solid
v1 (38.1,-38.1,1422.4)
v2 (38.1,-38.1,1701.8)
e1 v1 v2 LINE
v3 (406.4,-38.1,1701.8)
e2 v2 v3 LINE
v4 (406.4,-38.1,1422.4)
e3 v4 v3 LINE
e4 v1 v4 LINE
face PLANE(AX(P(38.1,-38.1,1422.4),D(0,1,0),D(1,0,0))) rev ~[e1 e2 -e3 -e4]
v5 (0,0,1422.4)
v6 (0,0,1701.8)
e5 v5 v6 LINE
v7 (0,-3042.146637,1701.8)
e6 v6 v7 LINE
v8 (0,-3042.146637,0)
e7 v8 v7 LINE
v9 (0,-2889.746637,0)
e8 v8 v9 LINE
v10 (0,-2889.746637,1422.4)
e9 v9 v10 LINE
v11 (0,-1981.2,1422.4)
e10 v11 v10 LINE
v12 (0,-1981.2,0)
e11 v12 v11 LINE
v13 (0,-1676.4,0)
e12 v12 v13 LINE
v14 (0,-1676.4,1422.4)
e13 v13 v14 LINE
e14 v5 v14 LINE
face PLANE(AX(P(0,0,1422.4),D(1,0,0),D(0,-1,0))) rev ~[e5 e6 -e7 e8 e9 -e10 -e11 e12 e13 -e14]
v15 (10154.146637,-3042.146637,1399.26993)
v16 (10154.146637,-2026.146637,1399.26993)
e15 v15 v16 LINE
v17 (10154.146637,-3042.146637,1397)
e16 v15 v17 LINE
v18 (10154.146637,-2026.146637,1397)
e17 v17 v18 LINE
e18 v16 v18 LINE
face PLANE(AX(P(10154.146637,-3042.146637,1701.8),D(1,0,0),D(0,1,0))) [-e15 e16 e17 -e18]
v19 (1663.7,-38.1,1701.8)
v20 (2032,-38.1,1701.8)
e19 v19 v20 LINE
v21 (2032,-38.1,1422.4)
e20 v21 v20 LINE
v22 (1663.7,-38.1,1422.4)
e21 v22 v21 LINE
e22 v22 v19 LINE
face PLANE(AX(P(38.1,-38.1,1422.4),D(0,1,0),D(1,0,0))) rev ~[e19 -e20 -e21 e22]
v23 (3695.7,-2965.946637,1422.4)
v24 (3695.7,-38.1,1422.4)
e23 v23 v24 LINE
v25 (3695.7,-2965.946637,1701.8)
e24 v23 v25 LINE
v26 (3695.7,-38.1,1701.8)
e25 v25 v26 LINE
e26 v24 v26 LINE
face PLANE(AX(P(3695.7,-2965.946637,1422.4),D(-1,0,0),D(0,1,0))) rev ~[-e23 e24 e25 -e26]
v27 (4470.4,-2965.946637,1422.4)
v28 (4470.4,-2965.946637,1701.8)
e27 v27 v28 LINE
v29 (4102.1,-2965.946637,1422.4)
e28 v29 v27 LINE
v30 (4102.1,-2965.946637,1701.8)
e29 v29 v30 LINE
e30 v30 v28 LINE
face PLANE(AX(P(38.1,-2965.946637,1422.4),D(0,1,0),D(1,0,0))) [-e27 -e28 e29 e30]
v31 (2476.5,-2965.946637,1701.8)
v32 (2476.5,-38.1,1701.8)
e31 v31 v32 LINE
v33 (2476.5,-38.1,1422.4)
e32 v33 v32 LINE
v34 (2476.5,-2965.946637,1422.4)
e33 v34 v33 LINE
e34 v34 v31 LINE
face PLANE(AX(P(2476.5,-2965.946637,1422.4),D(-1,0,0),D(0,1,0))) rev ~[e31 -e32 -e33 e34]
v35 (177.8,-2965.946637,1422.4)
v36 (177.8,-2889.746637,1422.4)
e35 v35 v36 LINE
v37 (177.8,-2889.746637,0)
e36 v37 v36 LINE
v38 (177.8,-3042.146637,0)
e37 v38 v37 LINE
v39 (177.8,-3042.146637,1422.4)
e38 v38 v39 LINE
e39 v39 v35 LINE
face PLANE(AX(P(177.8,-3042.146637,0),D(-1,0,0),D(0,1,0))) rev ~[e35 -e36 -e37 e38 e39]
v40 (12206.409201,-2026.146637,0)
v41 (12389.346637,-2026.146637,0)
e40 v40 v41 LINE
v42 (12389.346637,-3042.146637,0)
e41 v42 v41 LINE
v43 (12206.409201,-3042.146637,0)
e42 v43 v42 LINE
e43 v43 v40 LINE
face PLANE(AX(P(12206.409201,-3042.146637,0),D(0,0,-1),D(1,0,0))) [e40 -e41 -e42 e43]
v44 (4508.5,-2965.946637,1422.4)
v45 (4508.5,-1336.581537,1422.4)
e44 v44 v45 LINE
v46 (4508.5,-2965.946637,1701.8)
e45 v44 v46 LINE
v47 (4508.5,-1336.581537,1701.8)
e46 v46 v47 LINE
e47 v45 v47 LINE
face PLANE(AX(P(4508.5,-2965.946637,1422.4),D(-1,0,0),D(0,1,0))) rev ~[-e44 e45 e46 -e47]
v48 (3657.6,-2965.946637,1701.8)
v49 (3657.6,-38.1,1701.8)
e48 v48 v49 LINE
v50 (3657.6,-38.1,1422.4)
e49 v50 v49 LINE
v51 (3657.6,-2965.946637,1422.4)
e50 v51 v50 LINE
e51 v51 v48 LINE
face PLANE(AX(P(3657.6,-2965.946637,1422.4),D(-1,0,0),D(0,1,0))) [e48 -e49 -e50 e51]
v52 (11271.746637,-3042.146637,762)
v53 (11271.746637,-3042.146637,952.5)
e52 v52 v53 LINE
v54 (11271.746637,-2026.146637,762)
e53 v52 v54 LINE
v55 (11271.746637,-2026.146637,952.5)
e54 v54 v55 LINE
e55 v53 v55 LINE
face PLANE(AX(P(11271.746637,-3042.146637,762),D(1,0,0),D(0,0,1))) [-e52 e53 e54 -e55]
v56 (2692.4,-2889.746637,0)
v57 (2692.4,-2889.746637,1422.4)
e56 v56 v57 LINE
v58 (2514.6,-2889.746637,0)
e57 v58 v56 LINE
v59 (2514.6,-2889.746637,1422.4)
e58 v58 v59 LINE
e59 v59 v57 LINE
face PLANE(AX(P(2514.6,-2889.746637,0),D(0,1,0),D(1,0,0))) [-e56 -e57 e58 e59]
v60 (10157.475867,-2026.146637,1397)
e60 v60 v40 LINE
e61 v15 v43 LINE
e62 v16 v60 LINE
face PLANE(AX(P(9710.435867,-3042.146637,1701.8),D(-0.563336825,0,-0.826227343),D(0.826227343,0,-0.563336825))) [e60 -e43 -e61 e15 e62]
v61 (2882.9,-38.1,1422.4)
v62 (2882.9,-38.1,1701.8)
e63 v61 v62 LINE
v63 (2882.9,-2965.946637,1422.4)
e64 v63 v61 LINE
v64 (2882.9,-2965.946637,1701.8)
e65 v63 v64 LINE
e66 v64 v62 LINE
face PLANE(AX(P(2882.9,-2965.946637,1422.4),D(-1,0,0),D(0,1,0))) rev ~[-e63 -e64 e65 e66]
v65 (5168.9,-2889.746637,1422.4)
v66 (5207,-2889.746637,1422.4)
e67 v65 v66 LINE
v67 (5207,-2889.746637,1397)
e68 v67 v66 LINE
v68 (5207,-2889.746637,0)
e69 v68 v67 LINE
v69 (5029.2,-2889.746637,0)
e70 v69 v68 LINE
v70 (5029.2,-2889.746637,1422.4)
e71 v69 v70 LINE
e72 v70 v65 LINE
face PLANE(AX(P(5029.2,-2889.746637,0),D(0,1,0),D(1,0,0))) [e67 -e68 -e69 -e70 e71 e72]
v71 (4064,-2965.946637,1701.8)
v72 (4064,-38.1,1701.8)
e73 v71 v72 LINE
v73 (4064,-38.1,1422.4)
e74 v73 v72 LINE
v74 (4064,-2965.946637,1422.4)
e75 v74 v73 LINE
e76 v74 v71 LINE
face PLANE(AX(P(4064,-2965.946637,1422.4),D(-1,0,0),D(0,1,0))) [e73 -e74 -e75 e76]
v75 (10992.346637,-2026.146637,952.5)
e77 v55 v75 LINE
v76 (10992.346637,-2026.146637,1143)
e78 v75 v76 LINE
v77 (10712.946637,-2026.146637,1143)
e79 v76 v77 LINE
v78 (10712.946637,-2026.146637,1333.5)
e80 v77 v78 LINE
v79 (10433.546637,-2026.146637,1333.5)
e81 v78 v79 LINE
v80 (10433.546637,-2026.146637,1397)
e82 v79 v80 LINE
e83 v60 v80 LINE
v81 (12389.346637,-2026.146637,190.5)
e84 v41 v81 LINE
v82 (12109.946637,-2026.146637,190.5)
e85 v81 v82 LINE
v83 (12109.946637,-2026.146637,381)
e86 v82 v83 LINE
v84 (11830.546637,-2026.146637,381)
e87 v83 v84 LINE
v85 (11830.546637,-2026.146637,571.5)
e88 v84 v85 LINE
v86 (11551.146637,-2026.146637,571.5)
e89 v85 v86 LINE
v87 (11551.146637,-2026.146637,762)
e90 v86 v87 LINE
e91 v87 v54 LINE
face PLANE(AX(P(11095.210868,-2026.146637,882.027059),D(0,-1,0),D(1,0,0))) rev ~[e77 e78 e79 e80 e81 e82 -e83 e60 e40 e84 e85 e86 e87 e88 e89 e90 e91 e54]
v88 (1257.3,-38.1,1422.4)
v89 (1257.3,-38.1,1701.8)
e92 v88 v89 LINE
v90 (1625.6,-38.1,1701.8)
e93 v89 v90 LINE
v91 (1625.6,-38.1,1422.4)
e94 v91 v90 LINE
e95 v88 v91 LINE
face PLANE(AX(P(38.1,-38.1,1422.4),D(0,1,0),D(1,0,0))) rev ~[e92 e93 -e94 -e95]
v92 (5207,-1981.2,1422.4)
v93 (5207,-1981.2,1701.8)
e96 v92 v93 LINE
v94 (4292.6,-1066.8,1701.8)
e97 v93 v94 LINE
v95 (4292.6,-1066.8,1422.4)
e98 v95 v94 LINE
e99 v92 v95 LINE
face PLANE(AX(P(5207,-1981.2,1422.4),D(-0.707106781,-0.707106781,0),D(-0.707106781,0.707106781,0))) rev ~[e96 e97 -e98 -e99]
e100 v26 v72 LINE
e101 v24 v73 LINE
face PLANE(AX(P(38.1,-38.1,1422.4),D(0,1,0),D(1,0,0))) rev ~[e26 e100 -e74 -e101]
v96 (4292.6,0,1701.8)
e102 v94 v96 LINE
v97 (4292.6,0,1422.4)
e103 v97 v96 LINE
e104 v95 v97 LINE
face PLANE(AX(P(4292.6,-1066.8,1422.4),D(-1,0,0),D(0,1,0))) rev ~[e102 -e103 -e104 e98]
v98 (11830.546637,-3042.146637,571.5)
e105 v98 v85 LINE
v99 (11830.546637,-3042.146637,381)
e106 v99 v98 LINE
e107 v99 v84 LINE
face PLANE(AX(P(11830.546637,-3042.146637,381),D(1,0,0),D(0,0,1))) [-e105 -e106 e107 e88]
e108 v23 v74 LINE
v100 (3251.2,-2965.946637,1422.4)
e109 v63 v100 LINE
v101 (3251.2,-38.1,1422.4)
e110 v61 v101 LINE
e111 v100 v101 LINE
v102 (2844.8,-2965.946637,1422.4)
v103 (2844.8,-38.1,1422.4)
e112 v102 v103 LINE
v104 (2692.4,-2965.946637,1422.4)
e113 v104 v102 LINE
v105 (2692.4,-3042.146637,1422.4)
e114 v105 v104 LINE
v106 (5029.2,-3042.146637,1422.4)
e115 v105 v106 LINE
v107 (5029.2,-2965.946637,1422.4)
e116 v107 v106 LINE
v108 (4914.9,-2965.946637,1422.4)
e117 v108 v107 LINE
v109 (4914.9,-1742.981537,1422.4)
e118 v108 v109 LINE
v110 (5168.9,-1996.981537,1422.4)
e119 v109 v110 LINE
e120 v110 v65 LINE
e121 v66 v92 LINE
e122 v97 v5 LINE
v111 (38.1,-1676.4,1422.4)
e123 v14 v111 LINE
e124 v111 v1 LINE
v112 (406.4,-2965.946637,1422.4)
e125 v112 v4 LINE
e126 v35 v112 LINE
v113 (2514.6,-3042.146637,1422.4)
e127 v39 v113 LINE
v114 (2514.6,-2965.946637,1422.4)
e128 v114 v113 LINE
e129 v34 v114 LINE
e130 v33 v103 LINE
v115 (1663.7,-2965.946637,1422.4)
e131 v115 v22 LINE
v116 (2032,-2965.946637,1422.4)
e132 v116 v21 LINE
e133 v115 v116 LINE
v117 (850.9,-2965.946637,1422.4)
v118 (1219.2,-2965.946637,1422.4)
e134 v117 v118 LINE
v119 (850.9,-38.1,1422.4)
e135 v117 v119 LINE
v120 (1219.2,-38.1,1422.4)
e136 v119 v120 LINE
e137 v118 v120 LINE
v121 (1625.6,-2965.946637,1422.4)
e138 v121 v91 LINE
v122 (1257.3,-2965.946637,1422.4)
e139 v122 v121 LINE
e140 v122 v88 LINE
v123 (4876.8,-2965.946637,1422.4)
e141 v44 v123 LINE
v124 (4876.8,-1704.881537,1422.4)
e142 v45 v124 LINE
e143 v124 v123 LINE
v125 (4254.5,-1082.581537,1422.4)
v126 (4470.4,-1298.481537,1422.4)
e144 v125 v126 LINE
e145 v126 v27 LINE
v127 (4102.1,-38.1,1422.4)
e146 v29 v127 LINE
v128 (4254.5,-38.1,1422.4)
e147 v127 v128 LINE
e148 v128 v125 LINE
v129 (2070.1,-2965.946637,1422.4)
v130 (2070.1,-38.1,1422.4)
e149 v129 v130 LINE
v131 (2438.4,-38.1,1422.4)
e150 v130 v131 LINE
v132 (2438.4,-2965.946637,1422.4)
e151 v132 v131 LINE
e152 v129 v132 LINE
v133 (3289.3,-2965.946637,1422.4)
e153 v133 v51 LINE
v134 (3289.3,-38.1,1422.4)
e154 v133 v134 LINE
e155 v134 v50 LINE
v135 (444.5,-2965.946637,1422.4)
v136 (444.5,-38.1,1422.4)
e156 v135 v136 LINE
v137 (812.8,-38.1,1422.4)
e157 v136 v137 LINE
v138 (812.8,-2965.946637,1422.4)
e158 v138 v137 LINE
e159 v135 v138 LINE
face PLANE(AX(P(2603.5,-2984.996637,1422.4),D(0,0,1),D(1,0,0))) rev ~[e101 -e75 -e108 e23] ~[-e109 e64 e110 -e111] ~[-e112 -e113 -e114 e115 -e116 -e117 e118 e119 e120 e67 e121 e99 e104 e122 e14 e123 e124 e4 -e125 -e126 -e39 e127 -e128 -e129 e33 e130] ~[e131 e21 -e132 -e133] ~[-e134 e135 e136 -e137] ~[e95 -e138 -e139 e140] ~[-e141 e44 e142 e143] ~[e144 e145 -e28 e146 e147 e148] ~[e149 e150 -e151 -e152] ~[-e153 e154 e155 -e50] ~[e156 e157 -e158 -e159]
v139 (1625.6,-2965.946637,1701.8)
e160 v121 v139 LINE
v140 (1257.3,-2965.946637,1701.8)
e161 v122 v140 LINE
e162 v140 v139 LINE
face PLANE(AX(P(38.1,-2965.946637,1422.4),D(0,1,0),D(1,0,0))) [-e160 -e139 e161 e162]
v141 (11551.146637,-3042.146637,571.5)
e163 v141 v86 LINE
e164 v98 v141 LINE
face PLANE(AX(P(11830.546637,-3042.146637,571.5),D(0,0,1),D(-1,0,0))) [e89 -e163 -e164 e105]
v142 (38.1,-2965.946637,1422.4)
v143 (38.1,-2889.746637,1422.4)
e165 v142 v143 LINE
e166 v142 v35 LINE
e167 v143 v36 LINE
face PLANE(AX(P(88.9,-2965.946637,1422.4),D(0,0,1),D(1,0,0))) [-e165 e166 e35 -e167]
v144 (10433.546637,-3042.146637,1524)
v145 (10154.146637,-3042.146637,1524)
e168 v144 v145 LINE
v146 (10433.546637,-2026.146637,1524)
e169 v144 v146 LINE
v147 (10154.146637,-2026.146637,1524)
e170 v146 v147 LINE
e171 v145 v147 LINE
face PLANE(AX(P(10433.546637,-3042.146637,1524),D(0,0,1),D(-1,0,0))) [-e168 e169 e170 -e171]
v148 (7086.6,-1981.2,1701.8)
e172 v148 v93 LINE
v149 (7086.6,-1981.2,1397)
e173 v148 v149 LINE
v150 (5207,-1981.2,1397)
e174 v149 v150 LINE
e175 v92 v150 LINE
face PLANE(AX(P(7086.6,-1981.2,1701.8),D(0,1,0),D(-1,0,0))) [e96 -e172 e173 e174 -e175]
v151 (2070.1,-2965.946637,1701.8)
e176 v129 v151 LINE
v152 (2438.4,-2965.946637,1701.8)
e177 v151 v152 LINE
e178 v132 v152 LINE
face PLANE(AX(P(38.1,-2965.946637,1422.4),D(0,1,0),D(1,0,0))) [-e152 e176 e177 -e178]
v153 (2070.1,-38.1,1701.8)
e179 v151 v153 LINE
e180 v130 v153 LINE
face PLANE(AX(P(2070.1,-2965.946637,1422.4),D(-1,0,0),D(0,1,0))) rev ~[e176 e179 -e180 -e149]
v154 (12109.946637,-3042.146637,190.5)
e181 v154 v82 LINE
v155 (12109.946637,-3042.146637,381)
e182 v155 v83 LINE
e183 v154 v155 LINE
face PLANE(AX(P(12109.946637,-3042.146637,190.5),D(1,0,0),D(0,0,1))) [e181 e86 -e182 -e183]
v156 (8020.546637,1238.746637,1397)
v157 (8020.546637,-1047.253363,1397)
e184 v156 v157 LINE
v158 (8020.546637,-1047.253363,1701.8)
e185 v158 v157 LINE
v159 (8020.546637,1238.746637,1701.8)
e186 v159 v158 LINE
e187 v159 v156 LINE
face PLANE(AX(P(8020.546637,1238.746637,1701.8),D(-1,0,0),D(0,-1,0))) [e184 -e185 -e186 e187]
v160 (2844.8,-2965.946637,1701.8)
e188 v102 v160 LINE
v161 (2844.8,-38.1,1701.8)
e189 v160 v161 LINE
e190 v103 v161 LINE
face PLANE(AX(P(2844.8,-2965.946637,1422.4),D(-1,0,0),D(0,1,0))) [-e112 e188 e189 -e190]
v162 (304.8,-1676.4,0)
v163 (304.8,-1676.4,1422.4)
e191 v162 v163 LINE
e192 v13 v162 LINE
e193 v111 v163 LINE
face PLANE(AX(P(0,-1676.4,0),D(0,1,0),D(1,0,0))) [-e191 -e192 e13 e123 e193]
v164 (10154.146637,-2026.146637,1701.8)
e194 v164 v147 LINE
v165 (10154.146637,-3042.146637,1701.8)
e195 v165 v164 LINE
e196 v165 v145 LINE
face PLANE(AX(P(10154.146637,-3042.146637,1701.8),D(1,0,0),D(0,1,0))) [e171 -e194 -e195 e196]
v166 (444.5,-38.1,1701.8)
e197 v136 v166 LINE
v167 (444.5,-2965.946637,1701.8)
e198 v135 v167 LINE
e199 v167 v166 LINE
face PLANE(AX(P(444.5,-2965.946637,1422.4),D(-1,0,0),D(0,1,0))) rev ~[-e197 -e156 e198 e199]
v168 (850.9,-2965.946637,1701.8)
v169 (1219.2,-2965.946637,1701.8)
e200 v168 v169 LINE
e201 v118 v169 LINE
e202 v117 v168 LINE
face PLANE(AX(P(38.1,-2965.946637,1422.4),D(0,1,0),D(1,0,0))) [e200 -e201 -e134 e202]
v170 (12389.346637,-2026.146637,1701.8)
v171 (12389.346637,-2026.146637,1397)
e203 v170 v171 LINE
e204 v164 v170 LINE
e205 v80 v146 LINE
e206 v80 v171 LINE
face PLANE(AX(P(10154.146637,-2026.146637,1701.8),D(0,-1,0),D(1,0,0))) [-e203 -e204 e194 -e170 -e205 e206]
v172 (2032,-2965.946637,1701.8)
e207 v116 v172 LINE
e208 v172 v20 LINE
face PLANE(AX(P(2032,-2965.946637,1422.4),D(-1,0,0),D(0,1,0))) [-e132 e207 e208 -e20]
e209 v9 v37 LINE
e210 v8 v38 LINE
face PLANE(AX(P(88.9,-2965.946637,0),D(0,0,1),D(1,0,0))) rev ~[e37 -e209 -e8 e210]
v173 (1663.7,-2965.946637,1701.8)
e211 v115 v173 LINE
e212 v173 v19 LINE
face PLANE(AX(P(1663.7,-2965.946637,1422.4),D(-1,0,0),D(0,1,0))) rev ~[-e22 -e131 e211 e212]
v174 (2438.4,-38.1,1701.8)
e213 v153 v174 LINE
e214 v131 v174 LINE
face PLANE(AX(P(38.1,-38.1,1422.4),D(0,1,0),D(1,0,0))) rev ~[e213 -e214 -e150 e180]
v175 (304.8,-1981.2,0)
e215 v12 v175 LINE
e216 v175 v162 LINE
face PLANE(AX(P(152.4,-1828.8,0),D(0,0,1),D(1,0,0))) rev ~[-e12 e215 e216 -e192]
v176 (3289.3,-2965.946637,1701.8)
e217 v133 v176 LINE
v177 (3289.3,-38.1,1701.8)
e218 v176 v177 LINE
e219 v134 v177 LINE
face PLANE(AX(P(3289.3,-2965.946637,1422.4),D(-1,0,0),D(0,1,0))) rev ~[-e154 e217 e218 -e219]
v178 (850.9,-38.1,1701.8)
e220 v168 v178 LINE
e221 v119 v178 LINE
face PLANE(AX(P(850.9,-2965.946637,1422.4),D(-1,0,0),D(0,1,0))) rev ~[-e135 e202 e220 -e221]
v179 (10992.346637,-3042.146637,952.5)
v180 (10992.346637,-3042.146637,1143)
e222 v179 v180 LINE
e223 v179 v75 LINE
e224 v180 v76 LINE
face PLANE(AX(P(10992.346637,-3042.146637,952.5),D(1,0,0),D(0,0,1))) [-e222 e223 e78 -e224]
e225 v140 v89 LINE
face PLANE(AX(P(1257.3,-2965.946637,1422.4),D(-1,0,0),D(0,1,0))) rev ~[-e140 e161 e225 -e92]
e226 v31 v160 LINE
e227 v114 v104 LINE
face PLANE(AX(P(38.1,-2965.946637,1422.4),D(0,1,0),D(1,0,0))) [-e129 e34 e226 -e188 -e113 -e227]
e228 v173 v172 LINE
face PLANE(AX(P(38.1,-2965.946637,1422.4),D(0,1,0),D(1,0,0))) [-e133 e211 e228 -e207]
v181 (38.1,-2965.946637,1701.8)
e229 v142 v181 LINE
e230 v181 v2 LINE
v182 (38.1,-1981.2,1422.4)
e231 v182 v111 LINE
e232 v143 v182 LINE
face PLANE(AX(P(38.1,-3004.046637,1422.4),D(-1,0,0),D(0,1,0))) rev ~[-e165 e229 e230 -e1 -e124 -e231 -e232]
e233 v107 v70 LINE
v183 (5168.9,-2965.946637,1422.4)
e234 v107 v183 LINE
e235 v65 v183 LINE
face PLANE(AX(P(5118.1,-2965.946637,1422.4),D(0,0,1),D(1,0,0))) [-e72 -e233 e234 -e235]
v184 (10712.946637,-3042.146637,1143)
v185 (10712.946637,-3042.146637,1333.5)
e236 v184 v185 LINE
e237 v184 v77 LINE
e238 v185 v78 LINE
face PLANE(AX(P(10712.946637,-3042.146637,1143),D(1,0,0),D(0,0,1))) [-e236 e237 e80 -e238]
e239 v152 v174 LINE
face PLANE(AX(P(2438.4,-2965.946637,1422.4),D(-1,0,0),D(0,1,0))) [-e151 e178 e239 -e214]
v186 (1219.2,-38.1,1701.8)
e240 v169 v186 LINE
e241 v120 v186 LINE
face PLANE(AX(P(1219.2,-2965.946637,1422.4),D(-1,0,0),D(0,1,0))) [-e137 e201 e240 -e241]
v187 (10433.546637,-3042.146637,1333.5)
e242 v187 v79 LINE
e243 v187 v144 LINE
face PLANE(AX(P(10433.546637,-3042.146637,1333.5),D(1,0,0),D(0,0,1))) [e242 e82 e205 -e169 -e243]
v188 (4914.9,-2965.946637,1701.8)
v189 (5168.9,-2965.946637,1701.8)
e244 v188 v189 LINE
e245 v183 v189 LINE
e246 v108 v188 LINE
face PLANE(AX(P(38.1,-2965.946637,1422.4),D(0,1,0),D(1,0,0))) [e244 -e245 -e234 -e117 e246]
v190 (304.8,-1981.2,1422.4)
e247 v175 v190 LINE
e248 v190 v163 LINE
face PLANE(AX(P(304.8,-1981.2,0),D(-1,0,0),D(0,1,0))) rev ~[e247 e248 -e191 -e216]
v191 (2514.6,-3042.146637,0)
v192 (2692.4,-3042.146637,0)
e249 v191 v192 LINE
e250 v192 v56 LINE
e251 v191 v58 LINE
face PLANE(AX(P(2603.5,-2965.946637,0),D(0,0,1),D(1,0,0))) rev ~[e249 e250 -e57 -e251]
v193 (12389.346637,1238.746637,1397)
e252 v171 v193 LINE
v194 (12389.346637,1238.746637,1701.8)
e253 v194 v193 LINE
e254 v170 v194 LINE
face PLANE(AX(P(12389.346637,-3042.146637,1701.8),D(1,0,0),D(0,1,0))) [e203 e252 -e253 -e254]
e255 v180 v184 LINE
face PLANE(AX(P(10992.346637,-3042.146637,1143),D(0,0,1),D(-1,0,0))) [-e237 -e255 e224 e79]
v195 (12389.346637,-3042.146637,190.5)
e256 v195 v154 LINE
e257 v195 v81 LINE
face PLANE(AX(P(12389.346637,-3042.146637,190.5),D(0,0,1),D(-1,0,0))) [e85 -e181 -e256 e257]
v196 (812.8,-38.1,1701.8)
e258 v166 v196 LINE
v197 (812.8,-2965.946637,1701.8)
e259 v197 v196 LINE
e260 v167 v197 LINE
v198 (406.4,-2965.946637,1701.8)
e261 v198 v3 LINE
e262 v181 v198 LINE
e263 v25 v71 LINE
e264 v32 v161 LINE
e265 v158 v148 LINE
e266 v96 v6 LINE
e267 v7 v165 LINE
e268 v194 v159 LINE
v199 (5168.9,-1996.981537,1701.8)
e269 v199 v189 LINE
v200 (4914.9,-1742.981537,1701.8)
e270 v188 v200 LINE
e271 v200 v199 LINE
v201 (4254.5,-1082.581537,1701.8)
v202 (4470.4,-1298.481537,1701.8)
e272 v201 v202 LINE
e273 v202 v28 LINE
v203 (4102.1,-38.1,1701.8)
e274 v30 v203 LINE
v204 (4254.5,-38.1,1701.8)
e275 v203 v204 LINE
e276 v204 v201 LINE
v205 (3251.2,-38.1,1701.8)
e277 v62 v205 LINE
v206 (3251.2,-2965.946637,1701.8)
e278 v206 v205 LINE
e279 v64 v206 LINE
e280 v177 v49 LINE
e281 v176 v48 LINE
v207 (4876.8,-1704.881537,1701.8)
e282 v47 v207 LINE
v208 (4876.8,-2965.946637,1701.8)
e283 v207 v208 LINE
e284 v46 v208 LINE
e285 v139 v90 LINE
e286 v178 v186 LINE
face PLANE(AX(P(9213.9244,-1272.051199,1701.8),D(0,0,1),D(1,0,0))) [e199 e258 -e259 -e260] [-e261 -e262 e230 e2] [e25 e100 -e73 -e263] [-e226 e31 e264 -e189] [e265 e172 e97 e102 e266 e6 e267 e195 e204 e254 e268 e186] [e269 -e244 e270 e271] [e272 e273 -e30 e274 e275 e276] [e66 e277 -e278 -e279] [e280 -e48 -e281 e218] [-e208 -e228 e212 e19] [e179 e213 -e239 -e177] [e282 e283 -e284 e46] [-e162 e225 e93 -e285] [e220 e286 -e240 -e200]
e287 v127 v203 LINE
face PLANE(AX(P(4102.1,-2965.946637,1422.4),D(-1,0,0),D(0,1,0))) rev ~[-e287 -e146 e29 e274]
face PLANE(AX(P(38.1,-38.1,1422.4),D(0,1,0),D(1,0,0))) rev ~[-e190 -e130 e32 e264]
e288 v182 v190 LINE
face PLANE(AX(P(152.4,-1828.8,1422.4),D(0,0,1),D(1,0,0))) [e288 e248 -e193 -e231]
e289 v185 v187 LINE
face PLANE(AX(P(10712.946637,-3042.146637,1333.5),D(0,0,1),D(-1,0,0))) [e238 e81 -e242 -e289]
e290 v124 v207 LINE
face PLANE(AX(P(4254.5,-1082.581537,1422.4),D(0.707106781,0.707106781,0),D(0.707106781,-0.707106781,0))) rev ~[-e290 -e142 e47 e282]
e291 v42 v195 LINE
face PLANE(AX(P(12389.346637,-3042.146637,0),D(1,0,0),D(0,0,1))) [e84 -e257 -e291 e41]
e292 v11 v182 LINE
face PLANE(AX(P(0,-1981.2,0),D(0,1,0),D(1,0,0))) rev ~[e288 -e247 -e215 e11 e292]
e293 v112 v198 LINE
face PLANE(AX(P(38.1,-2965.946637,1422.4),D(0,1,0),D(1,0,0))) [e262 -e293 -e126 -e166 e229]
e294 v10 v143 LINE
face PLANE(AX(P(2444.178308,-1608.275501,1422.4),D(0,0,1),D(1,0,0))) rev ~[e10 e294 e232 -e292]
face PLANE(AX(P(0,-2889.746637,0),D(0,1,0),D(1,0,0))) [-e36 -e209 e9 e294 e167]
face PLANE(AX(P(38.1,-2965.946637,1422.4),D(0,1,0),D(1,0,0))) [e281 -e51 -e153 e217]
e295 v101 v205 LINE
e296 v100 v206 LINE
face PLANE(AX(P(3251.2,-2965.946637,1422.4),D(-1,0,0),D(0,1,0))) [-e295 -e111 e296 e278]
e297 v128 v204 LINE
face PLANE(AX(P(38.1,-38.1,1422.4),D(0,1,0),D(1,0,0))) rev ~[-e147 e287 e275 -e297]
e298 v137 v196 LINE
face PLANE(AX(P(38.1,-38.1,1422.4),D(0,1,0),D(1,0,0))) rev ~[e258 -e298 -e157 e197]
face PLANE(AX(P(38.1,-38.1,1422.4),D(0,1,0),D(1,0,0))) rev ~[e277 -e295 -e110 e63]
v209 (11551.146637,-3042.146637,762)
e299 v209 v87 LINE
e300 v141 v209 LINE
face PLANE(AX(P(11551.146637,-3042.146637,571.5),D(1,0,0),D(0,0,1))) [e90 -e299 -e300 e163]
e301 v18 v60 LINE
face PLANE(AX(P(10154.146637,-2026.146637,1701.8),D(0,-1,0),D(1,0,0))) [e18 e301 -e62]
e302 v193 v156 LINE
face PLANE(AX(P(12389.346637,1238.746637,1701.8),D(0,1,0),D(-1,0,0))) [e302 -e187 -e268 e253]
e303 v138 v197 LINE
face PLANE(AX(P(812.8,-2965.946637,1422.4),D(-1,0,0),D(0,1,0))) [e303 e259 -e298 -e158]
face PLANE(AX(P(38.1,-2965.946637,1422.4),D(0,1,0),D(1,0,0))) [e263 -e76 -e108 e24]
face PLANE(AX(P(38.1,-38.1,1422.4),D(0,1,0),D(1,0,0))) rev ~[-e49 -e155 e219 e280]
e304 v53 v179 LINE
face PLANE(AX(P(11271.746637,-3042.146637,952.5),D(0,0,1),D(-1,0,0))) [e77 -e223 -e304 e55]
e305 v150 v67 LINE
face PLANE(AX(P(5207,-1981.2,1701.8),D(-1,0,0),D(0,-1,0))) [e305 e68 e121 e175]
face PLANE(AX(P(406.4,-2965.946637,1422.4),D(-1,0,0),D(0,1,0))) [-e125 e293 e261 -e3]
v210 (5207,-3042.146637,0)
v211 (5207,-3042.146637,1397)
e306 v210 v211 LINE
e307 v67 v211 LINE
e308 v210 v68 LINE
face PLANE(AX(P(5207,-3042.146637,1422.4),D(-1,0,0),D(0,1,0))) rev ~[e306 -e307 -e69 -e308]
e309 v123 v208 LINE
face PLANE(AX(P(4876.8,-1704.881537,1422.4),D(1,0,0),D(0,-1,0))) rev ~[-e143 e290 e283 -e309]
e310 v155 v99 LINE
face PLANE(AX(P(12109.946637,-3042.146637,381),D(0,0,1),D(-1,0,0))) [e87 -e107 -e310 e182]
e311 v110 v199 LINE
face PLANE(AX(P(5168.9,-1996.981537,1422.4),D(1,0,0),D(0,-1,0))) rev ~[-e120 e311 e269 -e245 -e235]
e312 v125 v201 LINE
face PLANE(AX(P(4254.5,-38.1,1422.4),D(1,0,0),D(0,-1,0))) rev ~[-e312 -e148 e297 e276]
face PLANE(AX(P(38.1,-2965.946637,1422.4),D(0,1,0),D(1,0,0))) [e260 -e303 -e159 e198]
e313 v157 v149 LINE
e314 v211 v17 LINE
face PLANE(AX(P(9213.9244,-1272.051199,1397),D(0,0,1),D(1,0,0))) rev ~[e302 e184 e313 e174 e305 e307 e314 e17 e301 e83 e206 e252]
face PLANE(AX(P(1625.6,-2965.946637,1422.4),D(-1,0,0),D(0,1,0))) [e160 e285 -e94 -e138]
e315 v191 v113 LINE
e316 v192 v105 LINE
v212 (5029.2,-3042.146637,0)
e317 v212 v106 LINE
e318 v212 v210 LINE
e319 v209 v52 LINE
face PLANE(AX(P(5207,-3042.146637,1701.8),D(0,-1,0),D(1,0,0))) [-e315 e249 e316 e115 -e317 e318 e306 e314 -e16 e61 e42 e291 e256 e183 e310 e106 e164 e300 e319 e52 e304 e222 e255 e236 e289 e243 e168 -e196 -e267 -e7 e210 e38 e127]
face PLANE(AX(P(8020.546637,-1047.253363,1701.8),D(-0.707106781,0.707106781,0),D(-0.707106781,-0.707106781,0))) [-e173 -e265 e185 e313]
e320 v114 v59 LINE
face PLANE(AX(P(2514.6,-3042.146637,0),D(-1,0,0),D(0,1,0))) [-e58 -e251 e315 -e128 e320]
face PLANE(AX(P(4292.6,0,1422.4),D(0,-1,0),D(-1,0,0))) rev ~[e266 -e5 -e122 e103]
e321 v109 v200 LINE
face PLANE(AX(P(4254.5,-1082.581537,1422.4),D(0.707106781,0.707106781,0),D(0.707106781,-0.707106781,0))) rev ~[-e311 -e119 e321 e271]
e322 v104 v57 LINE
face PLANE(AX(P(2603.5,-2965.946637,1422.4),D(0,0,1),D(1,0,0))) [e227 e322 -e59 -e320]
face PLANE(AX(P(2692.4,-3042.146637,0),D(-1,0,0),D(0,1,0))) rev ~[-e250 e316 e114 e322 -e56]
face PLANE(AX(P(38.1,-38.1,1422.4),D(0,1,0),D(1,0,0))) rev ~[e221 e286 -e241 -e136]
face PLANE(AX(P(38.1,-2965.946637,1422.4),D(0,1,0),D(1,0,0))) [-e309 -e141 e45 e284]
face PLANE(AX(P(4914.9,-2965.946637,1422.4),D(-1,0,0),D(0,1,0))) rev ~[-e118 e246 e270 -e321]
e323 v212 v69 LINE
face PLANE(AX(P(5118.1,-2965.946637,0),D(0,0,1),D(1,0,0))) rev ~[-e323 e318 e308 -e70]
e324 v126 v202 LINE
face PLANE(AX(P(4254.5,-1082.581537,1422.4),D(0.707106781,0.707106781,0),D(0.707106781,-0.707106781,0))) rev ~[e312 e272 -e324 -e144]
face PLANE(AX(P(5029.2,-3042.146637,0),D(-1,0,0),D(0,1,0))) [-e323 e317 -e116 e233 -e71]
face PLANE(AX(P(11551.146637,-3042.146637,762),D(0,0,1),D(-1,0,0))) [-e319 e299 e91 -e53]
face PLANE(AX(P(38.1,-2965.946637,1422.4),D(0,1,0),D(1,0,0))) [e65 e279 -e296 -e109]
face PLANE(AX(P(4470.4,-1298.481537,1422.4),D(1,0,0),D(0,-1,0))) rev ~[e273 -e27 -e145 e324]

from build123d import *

# Parameters (mm, degrees)
F0_W      = 304.8
F0_H      = 304.8
F1_DEPTH  = 1422.4
F0_W_2    = 177.8
F0_H_2    = 152.4
F3_DEPTH  = 279.4
F4_W      = 5130.8
F4_H      = 38.1
F5_DEPTH  = 279.4
F6_W      = 38.1
F6_H      = 2927.8466365912
F7_DEPTH  = 279.4
F9_DEPTH  = 304.8
F10_W     = 2235.2
F10_H     = 1016
F11_DEPTH = 1701.801
F13_DEPTH = 1016


with BuildPart() as f1:
    # F0 (on Top) → F1 (new body)
    with BuildSketch(Plane.XY):
        with Locations((152.4, -1828.8)):
            Rectangle(F0_W, F0_H)
    extrude(amount=F1_DEPTH)



with BuildPart() as f1b:
    # F0 (on Top) → F1, piece 2 (new body)
    with BuildSketch(Plane.XY):
        with Locations((88.9, -2965.9466365912)):
            Rectangle(F0_W_2, F0_H_2)
    extrude(amount=F1_DEPTH)


with BuildPart() as f1c:
    # F0 (on Top) → F1, piece 3 (new body)
    with BuildSketch(Plane.XY):
        with Locations((2603.5, -2965.9466365912)):
            Rectangle(F0_W_2, F0_H_2)
    extrude(amount=F1_DEPTH)


with BuildPart() as f1d:
    # F0 (on Top) → F1, piece 4 (new body)
    with BuildSketch(Plane.XY):
        with Locations((5118.1, -2965.9466365912)):
            Rectangle(F0_W_2, F0_H_2)
    extrude(amount=F1_DEPTH)


with BuildPart() as f1_1:
    add(f1.part)

    add(f1b.part)  # F3 merges F1b

    add(f1c.part)  # F3 merges F1c

    add(f1d.part)  # F3 merges F1d
    # F2 (on face) → F3 (join)
    with BuildSketch(Plane.XY.offset(1422.4)):
        Polygon((4292.6, 0), (0, 0), (0, -3042.1466365912), (5207, -3042.1466365912), (5207, -1981.2), (4292.6, -1066.8), align=None)
        Polygon((38.1, -38.1), (4254.5, -38.1), (4254.5, -1082.5815367264), (5168.9, -1996.9815367264), (5168.9, -3004.0466365912), (38.1, -3004.0466365912), align=None, mode=Mode.SUBTRACT)
    extrude(amount=F3_DEPTH)

    # F4 (on face) → F5 (join, through all)
    with BuildSketch(Plane.XY.offset(1422.4)):
        with Locations((2603.5, -2984.9966365912)):
            Rectangle(F4_W, F4_H)
    extrude(amount=F5_DEPTH)

    # F6 (on face) → F7 (join, through all)
    with BuildSketch(Plane.XY.offset(1422.4)):
        with Locations((425.45, -1502.0233182956)):
            Rectangle(F6_W, F6_H)
        with Locations((831.85, -1502.0233182956)):
            Rectangle(F6_W, F6_H)
        with Locations((1238.25, -1502.0233182956)):
            Rectangle(F6_W, F6_H)
        with Locations((1644.65, -1502.0233182956)):
            Rectangle(F6_W, F6_H)
        with Locations((2051.05, -1502.0233182956)):
            Rectangle(F6_W, F6_H)
        with Locations((2457.45, -1502.0233182956)):
            Rectangle(F6_W, F6_H)
        with Locations((2863.85, -1502.0233182956)):
            Rectangle(F6_W, F6_H)
        with Locations((3270.25, -1502.0233182956)):
            Rectangle(F6_W, F6_H)
        with Locations((3676.65, -1502.0233182956)):
            Rectangle(F6_W, F6_H)
        with Locations((4083.05, -1502.0233182956)):
            Rectangle(F6_W, F6_H)
        Polygon((4470.4, -1298.4815367264), (4470.4, -2965.9466365912), (4508.5, -2965.9466365912), (4508.5, -1336.5815367264), align=None)
        Polygon((4876.8, -1704.8815367264), (4876.8, -2965.9466365912), (4914.9, -2965.9466365912), (4914.9, -1742.9815367264), align=None)
    extrude(amount=F7_DEPTH)

    # F8 (on face) → F9 (join)
    with BuildSketch(Plane.XY.offset(1701.8)):
        Polygon((7086.6, -1981.2), (5207, -1981.2), (5207, -3042.1466365912), (12389.3466365912, -3042.1466365912), (12389.3466365912, 1238.7466365912), (8020.5466365912, 1238.7466365912), (8020.5466365912, -1047.2533634088), align=None)
    extrude(amount=-F9_DEPTH)

    # F10 (on face) → F11 (cut, through all)
    with BuildSketch(Plane.XY.offset(1701.8)):
        with Locations((11271.7466365912, -2534.1466365912)):
            Rectangle(F10_W, F10_H)
    extrude(amount=-F11_DEPTH, mode=Mode.SUBTRACT)

    # F12 (on face) → F13 (join, through all)
    with BuildSketch(Plane.XZ.offset(3042.1466365912)):
        Polygon((10154.1466365912, 1524), (10154.1466365912, 1701.8), (9710.4358673096, 1701.8), (12206.4092006429, 0), (12389.3466365912, 0), (12389.3466365912, 190.5), (12109.9466365912, 190.5), (12109.9466365912, 381), (11830.5466365912, 381), (11830.5466365912, 571.5), (11551.1466365912, 571.5), (11551.1466365912, 762), (11271.7466365912, 762), (11271.7466365912, 952.5), (10992.3466365912, 952.5), (10992.3466365912, 1143), (10712.9466365912, 1143), (10712.9466365912, 1333.5), (10433.5466365912, 1333.5), (10433.5466365912, 1524), align=None)
    extrude(amount=-F13_DEPTH)


solid = f1_1.part
